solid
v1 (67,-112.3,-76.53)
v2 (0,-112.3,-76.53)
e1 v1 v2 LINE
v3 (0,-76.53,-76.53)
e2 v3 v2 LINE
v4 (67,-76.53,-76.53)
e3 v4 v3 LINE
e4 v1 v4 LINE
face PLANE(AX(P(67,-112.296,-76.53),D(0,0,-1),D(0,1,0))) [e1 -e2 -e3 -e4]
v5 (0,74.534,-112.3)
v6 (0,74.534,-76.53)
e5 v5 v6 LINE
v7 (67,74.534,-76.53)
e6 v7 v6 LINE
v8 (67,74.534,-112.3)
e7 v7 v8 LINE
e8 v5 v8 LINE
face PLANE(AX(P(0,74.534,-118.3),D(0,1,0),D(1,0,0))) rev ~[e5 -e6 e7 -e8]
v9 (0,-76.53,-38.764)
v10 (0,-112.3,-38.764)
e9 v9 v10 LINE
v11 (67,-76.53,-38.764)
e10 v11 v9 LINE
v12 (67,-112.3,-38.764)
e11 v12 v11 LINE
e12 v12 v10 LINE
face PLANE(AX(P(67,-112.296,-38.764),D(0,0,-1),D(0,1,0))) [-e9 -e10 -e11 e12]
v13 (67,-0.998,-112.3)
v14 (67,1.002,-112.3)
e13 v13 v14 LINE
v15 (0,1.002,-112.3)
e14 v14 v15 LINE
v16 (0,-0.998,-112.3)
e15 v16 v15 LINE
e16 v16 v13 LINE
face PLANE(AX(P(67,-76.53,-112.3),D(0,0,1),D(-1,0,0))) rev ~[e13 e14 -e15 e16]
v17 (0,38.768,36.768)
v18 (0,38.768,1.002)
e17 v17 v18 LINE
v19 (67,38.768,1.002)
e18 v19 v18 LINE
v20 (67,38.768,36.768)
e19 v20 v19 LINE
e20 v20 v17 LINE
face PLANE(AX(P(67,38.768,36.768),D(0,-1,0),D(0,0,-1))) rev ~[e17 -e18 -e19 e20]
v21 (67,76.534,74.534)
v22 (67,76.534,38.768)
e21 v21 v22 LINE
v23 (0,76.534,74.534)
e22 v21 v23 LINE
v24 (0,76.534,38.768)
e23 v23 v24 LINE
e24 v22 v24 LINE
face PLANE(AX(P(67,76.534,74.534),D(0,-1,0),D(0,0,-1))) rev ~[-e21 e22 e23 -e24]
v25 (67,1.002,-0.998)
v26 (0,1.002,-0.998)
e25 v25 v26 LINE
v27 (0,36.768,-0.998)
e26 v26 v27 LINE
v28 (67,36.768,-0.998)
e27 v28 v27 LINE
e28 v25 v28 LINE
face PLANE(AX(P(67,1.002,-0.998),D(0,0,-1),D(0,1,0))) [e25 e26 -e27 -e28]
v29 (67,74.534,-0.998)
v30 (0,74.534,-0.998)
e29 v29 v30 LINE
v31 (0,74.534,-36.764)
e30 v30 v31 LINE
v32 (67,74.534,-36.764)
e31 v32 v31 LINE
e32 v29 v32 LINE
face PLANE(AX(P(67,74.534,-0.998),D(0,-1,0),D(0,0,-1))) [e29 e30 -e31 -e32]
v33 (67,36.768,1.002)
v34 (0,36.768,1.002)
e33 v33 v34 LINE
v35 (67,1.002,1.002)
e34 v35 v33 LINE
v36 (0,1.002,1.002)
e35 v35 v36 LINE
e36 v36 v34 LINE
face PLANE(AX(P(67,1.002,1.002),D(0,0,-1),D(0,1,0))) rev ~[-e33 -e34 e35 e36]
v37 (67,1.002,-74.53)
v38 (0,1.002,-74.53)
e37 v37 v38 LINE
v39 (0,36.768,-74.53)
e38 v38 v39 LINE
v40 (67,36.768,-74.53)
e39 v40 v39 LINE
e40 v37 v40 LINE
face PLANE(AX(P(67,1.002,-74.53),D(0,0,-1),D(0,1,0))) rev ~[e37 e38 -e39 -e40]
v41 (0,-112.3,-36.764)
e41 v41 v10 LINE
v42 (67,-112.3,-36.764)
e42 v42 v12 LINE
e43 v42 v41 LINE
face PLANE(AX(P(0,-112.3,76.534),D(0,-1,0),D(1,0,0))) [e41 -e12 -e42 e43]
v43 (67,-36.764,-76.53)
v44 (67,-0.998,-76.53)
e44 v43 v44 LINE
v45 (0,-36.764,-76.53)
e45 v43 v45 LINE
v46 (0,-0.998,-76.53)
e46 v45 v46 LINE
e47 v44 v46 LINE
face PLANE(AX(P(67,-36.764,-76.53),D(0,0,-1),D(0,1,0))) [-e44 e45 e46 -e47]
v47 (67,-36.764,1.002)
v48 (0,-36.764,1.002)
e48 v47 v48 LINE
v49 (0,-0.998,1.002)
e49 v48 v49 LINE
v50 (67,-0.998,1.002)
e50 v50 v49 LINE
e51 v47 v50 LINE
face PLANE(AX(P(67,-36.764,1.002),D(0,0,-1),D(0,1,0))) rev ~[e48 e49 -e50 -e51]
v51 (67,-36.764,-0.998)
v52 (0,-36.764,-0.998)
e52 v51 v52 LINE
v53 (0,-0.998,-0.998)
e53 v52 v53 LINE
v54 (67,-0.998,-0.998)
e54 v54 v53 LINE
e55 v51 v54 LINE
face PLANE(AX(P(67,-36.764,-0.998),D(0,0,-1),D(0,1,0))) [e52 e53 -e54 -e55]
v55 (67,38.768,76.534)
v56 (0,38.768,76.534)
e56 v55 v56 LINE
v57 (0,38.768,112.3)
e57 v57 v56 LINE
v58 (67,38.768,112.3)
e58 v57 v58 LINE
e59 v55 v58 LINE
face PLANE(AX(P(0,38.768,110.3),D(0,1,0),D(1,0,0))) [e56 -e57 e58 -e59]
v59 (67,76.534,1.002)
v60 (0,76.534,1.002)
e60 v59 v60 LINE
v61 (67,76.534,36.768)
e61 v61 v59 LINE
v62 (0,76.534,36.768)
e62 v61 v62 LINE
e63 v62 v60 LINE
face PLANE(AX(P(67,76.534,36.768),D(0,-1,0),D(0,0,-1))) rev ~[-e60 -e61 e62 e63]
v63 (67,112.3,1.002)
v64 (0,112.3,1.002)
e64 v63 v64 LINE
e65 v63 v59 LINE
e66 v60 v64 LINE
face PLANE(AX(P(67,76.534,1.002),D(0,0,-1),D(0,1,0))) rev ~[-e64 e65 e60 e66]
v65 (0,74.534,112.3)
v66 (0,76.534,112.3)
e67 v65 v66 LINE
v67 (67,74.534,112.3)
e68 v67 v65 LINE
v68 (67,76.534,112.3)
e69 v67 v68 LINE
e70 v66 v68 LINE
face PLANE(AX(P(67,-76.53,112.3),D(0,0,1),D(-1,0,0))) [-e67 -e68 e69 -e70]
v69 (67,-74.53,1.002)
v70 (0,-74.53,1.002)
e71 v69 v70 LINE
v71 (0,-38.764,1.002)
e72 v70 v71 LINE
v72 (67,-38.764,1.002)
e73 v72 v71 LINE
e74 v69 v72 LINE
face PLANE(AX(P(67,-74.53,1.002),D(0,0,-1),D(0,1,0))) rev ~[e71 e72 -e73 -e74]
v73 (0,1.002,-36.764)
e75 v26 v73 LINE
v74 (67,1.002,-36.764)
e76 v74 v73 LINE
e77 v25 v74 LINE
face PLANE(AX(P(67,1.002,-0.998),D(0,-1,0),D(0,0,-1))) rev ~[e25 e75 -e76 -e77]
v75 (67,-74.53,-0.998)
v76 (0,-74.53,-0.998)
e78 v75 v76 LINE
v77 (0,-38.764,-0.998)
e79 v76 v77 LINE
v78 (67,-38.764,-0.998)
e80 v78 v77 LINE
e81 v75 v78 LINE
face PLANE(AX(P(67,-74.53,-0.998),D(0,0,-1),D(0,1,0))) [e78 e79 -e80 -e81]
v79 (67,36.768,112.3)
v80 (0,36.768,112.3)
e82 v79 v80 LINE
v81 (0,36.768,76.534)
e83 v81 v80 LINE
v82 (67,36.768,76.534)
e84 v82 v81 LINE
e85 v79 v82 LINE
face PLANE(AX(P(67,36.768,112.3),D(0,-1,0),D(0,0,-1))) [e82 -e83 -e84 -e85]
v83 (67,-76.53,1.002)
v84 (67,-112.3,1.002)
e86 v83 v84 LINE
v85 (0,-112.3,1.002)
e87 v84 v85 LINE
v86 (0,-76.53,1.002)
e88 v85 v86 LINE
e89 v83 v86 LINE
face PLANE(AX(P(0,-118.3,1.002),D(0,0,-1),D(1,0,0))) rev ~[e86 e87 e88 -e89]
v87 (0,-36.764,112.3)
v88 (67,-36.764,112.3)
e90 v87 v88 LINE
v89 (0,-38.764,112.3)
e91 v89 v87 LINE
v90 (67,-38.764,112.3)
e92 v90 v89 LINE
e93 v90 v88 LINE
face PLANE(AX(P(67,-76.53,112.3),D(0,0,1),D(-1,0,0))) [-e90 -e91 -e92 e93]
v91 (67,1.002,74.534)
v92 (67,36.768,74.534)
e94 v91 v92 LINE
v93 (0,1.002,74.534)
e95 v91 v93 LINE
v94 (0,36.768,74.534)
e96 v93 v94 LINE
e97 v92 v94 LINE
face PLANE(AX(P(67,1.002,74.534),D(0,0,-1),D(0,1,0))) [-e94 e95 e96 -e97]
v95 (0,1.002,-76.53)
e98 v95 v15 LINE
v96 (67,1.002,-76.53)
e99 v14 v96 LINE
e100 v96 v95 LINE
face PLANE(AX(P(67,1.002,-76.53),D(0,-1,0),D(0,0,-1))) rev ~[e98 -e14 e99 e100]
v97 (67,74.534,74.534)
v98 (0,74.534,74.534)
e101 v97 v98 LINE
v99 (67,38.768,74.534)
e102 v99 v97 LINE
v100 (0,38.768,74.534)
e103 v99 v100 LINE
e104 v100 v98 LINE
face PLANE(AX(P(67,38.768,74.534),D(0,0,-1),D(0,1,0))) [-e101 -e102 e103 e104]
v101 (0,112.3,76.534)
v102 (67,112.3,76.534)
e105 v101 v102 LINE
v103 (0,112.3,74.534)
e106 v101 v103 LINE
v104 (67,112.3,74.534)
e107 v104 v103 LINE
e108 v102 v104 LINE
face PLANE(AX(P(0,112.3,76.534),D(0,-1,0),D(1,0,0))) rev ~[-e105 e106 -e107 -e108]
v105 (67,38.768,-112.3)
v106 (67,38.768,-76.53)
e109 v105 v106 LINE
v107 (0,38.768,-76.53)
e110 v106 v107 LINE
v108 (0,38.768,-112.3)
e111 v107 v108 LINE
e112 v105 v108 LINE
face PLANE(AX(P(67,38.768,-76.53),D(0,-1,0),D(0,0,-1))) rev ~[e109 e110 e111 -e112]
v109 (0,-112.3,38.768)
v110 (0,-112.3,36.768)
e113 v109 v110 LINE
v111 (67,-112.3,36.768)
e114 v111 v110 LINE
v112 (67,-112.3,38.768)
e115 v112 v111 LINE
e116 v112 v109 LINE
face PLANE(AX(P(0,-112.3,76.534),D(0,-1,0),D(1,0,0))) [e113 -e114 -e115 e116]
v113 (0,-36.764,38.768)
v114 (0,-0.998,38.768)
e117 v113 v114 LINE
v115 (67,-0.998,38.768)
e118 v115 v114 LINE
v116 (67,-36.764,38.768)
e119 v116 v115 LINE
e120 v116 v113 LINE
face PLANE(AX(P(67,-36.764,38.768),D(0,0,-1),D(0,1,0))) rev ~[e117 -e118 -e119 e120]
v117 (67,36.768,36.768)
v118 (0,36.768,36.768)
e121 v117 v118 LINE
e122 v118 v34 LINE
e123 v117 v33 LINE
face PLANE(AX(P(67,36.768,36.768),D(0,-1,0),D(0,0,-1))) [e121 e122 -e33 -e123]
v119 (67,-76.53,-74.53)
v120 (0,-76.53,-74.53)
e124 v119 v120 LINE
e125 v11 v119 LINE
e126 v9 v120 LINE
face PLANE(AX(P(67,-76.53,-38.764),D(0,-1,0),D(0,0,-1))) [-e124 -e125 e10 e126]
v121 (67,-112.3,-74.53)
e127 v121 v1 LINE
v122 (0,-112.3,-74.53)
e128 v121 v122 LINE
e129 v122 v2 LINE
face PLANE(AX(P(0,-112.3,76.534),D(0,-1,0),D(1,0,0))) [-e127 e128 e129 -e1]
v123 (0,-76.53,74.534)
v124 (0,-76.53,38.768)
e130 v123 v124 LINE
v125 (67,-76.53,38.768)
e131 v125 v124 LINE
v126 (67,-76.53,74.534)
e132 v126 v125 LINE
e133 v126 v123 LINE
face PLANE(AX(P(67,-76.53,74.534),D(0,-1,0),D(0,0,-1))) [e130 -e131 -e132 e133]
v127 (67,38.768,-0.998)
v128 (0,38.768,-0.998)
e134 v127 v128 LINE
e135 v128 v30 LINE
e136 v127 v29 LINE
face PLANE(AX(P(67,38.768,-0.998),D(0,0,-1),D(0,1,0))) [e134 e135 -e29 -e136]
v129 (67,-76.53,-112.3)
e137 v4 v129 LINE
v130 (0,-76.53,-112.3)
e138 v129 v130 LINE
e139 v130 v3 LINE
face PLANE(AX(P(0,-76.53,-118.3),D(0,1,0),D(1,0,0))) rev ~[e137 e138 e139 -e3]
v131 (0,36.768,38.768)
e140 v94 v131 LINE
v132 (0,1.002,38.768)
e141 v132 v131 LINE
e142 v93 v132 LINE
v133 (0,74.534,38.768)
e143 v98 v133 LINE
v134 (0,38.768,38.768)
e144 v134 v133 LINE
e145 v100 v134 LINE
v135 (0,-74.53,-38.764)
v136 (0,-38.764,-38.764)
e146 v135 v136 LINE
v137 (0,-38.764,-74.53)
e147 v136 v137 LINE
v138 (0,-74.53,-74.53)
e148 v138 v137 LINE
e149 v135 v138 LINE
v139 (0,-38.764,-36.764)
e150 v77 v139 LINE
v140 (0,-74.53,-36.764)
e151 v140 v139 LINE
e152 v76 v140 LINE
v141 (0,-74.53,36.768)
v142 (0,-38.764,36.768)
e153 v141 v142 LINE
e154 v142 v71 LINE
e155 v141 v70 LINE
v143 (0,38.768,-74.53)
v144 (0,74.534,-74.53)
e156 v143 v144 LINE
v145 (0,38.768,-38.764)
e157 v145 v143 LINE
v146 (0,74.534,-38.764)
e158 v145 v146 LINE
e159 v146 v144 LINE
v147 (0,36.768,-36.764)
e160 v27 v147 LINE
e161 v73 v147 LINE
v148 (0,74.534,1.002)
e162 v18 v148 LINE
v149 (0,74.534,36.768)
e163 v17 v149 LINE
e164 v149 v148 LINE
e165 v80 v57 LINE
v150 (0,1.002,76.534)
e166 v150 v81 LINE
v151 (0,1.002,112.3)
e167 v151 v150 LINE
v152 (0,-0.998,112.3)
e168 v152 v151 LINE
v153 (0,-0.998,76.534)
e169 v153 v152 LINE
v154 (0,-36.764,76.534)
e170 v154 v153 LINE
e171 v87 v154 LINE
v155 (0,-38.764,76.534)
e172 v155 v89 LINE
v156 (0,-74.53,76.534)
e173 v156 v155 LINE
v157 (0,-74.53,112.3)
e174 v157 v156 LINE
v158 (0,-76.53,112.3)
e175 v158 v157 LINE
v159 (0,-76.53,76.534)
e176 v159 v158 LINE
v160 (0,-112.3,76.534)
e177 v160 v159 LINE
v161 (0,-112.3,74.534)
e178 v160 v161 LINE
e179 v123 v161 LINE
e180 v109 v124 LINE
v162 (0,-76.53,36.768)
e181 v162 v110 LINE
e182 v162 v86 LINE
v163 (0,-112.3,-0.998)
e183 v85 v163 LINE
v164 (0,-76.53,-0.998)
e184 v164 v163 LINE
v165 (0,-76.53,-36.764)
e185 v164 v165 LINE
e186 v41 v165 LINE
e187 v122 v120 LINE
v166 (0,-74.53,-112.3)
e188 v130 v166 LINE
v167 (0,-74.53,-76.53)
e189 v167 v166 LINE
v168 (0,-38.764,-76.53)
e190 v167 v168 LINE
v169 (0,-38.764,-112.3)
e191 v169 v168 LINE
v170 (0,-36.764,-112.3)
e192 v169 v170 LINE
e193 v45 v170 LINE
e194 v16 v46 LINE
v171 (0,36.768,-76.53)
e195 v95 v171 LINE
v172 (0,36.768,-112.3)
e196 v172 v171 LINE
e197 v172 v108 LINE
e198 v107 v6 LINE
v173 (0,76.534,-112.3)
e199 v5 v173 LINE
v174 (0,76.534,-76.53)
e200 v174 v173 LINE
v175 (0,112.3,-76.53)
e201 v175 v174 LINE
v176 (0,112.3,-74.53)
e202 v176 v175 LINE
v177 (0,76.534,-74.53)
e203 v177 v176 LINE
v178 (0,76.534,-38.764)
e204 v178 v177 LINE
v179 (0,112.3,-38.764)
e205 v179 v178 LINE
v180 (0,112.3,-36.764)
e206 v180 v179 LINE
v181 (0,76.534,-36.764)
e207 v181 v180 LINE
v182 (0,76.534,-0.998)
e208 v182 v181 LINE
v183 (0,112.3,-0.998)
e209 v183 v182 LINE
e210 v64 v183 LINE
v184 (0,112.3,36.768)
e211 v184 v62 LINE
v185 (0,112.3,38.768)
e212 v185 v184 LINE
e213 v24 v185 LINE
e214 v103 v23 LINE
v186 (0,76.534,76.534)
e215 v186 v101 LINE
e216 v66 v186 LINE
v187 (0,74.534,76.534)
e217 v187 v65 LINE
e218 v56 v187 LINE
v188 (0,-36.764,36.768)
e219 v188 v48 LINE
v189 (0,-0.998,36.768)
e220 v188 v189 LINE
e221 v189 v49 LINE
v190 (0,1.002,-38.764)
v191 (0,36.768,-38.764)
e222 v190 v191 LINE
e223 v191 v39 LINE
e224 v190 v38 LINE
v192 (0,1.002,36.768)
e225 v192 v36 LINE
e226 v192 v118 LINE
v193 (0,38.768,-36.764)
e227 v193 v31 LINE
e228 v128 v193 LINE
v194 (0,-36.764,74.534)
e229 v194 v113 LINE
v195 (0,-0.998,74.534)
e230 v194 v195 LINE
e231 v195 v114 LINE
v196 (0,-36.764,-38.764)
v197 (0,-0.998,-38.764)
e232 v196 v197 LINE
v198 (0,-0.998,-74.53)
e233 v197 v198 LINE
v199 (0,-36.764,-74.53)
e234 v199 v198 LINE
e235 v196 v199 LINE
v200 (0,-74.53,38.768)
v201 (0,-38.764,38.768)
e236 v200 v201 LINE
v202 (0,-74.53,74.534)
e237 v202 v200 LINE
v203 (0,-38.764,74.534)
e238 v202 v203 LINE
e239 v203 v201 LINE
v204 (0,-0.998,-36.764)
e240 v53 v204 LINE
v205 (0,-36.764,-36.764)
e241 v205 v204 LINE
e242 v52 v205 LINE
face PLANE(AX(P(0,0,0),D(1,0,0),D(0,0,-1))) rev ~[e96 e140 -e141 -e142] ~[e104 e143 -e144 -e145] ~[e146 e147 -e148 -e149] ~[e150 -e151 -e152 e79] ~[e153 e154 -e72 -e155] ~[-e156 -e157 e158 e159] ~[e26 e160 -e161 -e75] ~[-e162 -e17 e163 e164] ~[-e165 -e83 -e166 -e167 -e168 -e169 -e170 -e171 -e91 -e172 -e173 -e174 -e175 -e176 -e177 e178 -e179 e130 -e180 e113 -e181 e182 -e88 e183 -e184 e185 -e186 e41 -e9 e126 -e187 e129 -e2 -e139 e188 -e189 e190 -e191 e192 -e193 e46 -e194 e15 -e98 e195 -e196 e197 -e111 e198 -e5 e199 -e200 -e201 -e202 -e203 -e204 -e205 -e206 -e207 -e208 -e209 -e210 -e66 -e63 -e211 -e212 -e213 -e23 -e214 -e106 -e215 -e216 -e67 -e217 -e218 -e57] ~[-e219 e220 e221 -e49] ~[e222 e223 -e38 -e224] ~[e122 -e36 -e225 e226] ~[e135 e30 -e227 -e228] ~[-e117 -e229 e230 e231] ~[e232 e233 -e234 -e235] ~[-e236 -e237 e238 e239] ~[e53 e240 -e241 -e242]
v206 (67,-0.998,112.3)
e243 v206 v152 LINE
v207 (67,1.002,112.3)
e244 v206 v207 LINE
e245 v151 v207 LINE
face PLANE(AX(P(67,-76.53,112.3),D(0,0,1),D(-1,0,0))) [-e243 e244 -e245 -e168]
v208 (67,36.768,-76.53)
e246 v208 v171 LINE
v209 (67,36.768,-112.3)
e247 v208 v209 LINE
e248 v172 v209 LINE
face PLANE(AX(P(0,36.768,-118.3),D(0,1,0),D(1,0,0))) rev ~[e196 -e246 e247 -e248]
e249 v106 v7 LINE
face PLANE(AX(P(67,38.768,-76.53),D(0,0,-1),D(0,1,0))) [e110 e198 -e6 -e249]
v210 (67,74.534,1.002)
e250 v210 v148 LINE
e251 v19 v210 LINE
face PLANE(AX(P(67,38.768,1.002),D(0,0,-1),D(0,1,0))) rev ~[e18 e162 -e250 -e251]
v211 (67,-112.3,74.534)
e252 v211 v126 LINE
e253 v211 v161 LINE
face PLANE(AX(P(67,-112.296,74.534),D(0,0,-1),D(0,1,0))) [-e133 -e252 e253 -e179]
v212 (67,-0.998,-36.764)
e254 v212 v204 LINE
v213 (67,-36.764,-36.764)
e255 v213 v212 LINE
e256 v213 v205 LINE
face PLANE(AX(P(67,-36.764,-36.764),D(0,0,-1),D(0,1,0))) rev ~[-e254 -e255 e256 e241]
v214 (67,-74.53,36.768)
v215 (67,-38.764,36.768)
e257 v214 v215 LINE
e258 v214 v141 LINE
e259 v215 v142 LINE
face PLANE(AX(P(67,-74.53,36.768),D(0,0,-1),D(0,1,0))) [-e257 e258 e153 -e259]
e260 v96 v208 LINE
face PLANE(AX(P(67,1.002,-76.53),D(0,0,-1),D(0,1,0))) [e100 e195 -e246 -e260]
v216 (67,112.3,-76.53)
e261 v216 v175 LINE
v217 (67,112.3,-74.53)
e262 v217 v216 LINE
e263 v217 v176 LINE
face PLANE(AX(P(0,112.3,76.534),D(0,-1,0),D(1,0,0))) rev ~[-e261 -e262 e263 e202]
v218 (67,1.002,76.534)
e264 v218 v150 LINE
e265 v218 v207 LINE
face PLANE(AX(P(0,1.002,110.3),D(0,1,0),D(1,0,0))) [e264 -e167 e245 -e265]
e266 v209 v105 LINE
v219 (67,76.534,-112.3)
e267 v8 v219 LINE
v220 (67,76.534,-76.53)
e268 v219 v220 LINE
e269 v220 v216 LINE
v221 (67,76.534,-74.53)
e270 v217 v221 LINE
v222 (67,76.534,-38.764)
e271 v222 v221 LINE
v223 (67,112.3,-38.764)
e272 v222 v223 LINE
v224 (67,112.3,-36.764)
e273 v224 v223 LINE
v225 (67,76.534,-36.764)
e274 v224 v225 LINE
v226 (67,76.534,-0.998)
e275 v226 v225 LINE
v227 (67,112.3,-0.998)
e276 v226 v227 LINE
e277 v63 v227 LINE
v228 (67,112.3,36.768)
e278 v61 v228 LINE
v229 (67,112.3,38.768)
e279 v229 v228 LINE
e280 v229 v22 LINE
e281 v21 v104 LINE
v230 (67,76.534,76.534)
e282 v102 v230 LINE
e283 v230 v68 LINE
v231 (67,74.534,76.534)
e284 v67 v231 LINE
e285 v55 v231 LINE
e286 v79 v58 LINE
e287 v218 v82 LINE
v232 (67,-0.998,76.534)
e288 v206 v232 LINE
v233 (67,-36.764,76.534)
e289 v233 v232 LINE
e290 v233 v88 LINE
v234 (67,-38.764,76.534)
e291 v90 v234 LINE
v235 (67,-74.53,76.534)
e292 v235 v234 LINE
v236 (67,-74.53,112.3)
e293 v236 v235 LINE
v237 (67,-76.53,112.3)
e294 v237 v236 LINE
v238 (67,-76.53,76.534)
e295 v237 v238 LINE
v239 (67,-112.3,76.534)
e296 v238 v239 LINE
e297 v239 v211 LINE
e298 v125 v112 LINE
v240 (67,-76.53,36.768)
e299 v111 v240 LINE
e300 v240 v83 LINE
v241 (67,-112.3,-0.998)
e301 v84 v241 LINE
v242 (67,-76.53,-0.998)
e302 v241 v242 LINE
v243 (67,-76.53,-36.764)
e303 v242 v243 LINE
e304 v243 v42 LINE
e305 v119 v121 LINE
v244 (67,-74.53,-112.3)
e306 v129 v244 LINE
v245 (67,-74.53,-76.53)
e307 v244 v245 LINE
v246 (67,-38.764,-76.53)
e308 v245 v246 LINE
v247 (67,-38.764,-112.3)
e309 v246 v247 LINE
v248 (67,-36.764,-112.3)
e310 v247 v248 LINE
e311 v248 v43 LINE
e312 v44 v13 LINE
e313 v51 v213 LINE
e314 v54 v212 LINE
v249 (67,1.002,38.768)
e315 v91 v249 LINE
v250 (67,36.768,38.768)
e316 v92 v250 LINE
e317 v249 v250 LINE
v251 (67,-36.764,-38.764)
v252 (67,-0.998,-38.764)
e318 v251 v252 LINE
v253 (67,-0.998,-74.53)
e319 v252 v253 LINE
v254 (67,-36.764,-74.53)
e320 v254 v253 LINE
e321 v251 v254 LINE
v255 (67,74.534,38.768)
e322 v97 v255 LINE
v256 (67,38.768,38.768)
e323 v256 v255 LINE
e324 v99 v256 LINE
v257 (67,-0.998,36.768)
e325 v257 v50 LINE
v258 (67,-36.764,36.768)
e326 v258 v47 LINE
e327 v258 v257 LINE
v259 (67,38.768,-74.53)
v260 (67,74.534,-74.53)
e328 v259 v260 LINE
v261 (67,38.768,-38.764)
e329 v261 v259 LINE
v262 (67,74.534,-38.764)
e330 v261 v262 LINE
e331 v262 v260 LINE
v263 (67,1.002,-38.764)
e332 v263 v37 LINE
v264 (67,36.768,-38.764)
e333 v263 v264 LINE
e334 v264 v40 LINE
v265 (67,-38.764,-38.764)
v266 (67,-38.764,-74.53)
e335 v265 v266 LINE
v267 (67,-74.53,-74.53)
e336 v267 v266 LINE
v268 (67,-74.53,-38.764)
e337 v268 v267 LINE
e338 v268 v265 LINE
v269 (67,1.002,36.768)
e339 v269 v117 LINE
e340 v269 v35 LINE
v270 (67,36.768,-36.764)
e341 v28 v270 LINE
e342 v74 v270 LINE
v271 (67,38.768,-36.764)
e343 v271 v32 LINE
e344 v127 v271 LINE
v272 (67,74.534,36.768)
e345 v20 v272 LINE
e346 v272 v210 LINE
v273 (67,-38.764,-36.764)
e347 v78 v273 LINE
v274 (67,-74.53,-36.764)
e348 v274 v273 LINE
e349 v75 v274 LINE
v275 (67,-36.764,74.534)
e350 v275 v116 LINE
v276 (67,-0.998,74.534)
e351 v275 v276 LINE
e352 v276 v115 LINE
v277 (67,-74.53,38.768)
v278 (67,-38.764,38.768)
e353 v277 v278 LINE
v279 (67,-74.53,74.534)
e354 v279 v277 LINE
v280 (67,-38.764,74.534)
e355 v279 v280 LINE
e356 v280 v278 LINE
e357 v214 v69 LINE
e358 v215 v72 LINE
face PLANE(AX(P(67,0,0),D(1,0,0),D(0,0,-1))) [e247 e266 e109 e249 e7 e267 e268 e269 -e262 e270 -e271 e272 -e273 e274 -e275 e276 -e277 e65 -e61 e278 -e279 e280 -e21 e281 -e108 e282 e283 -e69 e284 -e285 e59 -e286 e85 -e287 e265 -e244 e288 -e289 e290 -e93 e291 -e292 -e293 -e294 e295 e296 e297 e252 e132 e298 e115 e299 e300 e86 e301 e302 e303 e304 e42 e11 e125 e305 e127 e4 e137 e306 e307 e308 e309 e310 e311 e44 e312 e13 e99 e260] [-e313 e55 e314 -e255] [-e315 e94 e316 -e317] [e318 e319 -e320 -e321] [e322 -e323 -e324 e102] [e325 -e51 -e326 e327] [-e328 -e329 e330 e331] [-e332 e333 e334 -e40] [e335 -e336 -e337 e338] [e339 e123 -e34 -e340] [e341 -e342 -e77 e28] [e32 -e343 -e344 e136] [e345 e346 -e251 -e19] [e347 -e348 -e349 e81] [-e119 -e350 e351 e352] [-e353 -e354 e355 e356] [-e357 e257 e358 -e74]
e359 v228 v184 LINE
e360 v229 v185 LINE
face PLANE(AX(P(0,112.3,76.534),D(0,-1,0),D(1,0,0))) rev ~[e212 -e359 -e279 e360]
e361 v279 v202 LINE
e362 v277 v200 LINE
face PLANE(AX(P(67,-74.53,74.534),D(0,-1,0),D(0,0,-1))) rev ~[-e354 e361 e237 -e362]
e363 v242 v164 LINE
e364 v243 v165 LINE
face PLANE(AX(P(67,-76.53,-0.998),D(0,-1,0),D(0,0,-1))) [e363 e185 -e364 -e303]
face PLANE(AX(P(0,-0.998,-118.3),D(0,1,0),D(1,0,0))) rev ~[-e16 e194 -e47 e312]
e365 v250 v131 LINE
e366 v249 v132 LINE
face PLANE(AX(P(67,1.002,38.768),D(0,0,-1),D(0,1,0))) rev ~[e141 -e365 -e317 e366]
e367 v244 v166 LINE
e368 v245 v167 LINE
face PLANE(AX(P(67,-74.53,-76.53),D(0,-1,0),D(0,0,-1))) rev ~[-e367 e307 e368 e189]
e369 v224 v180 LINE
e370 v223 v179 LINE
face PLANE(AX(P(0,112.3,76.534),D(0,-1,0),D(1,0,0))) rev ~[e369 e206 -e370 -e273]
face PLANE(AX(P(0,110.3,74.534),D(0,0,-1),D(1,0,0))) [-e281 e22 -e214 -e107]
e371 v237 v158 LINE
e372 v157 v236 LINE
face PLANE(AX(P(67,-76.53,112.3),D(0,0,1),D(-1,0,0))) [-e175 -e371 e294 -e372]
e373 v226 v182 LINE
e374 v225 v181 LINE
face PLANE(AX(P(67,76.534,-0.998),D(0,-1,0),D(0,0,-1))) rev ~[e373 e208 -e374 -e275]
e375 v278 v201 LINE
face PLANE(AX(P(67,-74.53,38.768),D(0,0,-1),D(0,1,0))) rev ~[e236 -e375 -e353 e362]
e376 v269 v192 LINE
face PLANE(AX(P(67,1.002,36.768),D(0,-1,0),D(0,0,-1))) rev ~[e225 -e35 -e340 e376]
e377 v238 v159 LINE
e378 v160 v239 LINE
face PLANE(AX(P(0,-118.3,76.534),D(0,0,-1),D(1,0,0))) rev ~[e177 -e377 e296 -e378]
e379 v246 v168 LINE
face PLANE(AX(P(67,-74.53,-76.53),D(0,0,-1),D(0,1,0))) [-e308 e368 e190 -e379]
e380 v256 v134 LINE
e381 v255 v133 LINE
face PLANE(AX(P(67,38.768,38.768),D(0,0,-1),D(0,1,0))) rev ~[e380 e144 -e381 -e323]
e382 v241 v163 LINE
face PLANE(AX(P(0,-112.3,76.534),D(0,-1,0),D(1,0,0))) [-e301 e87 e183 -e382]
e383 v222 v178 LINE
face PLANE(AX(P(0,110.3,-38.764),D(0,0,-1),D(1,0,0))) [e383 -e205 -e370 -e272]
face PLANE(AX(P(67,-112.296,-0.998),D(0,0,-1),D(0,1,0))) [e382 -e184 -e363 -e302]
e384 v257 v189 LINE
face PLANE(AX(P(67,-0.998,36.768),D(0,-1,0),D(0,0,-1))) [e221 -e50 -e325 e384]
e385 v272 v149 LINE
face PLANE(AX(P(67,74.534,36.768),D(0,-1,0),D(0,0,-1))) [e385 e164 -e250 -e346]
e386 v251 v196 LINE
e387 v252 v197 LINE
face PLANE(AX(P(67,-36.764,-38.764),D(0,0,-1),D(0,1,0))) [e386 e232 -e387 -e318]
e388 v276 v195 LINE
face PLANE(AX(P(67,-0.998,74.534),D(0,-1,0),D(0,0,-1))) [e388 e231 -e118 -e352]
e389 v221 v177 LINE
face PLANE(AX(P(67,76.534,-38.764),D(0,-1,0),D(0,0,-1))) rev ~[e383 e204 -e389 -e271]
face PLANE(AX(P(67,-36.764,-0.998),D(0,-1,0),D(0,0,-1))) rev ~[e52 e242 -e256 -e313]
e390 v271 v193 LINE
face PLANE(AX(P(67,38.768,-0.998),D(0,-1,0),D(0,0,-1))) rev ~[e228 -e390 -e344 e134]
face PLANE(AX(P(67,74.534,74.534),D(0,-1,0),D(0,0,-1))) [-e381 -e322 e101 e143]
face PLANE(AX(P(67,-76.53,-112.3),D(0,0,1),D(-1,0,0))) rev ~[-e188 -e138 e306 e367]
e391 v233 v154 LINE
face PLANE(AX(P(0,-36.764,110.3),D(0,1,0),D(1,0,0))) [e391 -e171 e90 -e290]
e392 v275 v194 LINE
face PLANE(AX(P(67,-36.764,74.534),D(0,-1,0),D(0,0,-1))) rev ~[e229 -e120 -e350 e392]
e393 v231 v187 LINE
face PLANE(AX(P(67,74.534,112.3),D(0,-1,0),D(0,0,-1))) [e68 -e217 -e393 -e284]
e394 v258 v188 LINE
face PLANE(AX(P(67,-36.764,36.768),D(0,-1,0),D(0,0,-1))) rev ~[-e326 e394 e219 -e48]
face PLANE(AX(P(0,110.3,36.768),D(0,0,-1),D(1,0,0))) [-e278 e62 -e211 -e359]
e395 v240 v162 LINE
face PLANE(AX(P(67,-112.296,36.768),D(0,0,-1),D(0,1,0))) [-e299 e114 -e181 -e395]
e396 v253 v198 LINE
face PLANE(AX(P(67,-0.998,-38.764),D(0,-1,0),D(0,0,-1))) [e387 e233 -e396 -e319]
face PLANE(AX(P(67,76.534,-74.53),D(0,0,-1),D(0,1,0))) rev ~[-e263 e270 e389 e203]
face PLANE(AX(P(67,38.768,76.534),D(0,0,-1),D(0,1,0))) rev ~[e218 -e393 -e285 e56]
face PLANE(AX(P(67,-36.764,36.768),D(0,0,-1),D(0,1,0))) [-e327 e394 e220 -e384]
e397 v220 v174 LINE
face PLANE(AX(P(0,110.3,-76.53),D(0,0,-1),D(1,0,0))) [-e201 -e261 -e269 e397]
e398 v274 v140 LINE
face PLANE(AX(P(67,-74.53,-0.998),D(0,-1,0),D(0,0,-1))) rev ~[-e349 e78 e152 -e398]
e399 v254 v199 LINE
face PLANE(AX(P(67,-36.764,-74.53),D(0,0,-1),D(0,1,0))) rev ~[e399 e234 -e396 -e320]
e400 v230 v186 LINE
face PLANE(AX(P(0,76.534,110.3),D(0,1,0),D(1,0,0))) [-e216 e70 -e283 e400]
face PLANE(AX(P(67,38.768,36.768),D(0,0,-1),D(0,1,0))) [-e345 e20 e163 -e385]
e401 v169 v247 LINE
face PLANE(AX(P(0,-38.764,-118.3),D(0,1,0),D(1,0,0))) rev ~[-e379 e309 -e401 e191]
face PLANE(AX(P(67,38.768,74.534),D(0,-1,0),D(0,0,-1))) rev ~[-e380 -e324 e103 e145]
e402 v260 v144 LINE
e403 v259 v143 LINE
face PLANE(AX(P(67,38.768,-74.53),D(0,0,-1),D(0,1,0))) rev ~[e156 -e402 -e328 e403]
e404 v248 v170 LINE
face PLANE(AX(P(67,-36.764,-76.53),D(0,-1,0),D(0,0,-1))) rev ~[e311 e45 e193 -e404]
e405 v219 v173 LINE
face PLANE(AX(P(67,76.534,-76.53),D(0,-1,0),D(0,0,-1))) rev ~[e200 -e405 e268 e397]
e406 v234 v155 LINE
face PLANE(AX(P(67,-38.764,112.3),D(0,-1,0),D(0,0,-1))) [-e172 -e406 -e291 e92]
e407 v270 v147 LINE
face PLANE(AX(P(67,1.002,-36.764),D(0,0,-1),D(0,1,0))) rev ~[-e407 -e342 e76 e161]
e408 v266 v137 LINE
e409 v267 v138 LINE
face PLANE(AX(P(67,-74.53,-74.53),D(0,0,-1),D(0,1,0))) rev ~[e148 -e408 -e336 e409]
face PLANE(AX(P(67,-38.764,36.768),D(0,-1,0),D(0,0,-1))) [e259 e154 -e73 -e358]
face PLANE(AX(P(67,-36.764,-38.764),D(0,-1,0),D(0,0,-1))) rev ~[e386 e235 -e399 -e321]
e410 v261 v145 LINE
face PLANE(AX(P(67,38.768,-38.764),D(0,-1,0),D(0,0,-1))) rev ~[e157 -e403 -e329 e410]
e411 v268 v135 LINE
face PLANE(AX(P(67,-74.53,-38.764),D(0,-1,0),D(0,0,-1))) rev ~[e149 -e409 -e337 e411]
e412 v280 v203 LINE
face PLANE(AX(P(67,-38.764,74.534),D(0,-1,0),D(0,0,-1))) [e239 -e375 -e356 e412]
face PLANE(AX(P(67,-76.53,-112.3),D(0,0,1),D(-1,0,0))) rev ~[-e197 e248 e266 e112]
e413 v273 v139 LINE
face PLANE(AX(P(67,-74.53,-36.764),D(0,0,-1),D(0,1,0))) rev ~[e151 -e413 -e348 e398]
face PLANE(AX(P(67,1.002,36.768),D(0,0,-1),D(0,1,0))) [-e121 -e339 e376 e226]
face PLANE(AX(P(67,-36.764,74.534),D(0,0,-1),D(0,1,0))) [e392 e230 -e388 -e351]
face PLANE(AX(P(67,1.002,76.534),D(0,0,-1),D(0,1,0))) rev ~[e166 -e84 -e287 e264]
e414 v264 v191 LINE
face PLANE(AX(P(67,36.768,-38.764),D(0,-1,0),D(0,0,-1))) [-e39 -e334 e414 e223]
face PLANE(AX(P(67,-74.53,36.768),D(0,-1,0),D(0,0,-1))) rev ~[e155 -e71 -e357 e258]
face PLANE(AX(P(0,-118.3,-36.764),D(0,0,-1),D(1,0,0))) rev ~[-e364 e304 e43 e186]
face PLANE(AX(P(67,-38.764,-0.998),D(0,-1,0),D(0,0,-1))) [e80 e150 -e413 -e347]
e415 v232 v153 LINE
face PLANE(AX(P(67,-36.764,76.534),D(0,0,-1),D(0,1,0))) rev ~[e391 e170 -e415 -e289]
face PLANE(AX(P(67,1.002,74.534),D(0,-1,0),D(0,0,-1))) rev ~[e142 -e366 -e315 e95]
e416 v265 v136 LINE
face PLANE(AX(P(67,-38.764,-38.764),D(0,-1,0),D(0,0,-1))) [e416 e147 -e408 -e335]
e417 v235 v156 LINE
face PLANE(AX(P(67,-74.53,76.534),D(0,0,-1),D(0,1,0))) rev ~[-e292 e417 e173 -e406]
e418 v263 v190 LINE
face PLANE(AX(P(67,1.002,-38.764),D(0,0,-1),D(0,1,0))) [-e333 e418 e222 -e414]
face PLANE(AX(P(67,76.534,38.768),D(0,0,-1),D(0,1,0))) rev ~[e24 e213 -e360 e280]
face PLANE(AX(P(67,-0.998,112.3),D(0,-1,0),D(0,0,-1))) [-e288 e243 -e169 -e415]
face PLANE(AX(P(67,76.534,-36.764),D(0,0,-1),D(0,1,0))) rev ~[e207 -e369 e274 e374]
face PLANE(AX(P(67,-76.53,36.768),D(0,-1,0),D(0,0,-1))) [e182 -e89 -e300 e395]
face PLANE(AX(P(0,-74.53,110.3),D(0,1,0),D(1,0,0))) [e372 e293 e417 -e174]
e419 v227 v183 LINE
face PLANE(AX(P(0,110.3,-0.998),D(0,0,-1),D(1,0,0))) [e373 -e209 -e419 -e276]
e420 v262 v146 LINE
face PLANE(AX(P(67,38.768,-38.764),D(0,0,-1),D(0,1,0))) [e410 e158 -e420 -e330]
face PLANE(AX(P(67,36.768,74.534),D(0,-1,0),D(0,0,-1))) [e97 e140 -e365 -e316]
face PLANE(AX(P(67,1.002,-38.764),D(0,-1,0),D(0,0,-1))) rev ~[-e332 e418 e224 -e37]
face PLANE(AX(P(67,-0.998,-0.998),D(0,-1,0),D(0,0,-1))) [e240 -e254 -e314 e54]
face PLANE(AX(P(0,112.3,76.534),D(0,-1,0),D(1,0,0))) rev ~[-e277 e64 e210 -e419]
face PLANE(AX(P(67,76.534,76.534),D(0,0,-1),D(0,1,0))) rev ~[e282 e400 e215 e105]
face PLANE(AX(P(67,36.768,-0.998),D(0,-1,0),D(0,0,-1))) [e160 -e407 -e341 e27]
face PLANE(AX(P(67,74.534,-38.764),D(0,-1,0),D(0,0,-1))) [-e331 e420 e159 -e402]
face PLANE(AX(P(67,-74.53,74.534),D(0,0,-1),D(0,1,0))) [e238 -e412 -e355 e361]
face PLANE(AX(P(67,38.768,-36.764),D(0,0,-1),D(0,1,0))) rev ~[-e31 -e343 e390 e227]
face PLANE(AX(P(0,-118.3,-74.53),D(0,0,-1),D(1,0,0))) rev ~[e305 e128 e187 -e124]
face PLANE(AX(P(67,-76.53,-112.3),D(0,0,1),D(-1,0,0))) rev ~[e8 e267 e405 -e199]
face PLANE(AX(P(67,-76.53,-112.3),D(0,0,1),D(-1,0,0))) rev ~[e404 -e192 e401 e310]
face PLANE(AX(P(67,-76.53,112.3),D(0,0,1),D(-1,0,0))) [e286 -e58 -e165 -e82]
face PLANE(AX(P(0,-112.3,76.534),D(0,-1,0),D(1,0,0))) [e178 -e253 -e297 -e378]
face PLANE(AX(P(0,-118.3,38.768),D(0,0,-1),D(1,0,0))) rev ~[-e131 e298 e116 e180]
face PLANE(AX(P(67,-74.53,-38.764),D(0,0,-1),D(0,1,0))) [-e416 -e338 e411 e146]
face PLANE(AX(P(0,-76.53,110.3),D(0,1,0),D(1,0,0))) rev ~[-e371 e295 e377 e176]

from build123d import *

# Parameters (mm, degrees)
SKETCH1_W               = 228.6
SKETCH1_H               = 228.6
BOSS_EXTRUDE1_DEPTH     = 67
SKETCH2_W               = 35.766
SKETCH2_H               = 35.766
CUT_EXTRUDE1_DEPTH      = 76.2
CUT_EXTRUDE3_DEPTH      = 4
CUT_EXTRUDE3_DEPTH_BACK = 4
SKETCH4_W               = 67
SKETCH4_H               = 35.766
CUT_EXTRUDE4_DEPTH      = 4
CUT_EXTRUDE4_DEPTH_BACK = 4
SKETCH5_W               = 67
SKETCH5_H               = 37.77
SKETCH5_H_2             = 35.766
CUT_EXTRUDE5_DEPTH      = 4
CUT_EXTRUDE5_DEPTH_BACK = 4
SKETCH6_W               = 67
SKETCH6_H               = 35.766
SKETCH6_H_2             = 37.77
CUT_EXTRUDE6_DEPTH      = 4
CUT_EXTRUDE6_DEPTH_BACK = 4
SKETCH9_W               = 67
SKETCH9_H               = 37.766
SKETCH9_H_2             = 35.766
SKETCH9_H_3             = 37.77
SKETCH10_W              = 67
SKETCH10_H              = 2
CUT_EXTRUDE7_DEPTH      = 233.316821509
SKETCH11_W              = 67
SKETCH11_H              = 2
CUT_EXTRUDE8_DEPTH      = 231.673489808


with BuildPart() as part:
    # Sketch1 → Boss-Extrude1 (new body)
    with BuildSketch(Plane(origin=(0, 0, 0), x_dir=(0, 0, -1), z_dir=(1, 0, 0))):
        Rectangle(SKETCH1_W, SKETCH1_H)
    extrude(amount=BOSS_EXTRUDE1_DEPTH)

    # Sketch2 → Cut-Extrude1 (cut)
    with BuildSketch(Plane(origin=(67, 0, 0), x_dir=(0, 0, -1), z_dir=(1, 0, 0))):
        with Locations((-94.417, 94.417)):
            Rectangle(SKETCH2_W, SKETCH2_H)
        with Locations((-56.651, 94.417)):
            Rectangle(SKETCH2_W, SKETCH2_H)
        with Locations((18.881, 94.417)):
            Rectangle(SKETCH2_W, SKETCH2_H)
        with Locations((-18.885, 94.417)):
            Rectangle(SKETCH2_W, SKETCH2_H)
        with Locations((56.647, 94.417)):
            Rectangle(SKETCH2_W, SKETCH2_H)
        with Locations((94.413, 94.417)):
            Rectangle(SKETCH2_W, SKETCH2_H)
        with Locations((56.647, 56.651)):
            Rectangle(SKETCH2_W, SKETCH2_H)
        with Locations((94.413, 56.651)):
            Rectangle(SKETCH2_W, SKETCH2_H)
        with Locations((18.881, 56.651)):
            Rectangle(SKETCH2_W, SKETCH2_H)
        with Locations((-18.885, 56.651)):
            Rectangle(SKETCH2_W, SKETCH2_H)
        with Locations((-56.651, 56.651)):
            Rectangle(SKETCH2_W, SKETCH2_H)
        with Locations((-94.417, 56.651)):
            Rectangle(SKETCH2_W, SKETCH2_H)
        with Locations((-94.417, 18.885)):
            Rectangle(SKETCH2_W, SKETCH2_H)
        with Locations((-56.651, 18.885)):
            Rectangle(SKETCH2_W, SKETCH2_H)
        with Locations((-18.885, 18.885)):
            Rectangle(SKETCH2_W, SKETCH2_H)
        with Locations((18.881, 18.885)):
            Rectangle(SKETCH2_W, SKETCH2_H)
        with Locations((56.647, 18.885)):
            Rectangle(SKETCH2_W, SKETCH2_H)
        with Locations((94.413, 18.885)):
            Rectangle(SKETCH2_W, SKETCH2_H)
        with Locations((94.413, -18.881)):
            Rectangle(SKETCH2_W, SKETCH2_H)
        with Locations((56.647, -18.881)):
            Rectangle(SKETCH2_W, SKETCH2_H)
        with Locations((18.881, -18.881)):
            Rectangle(SKETCH2_W, SKETCH2_H)
        with Locations((-18.885, -18.881)):
            Rectangle(SKETCH2_W, SKETCH2_H)
        with Locations((-56.651, -18.881)):
            Rectangle(SKETCH2_W, SKETCH2_H)
        with Locations((-94.417, -18.881)):
            Rectangle(SKETCH2_W, SKETCH2_H)
        with Locations((56.647, -56.647)):
            Rectangle(SKETCH2_W, SKETCH2_H)
        with Locations((94.413, -56.647)):
            Rectangle(SKETCH2_W, SKETCH2_H)
        with Locations((94.413, -94.413)):
            Rectangle(SKETCH2_W, SKETCH2_H)
        with Locations((56.647, -94.413)):
            Rectangle(SKETCH2_W, SKETCH2_H)
        with Locations((18.881, -94.413)):
            Rectangle(SKETCH2_W, SKETCH2_H)
        with Locations((18.881, -56.647)):
            Rectangle(SKETCH2_W, SKETCH2_H)
        with Locations((-18.885, -56.647)):
            Rectangle(SKETCH2_W, SKETCH2_H)
        with Locations((-18.885, -94.413)):
            Rectangle(SKETCH2_W, SKETCH2_H)
        with Locations((-56.651, -94.413)):
            Rectangle(SKETCH2_W, SKETCH2_H)
        with Locations((-56.651, -56.647)):
            Rectangle(SKETCH2_W, SKETCH2_H)
        with Locations((-94.417, -94.413)):
            Rectangle(SKETCH2_W, SKETCH2_H)
        with Locations((-94.417, -56.647)):
            Rectangle(SKETCH2_W, SKETCH2_H)
    extrude(amount=-CUT_EXTRUDE1_DEPTH, mode=Mode.SUBTRACT)

    # Sketch4 → Cut-Extrude3 (cut, two sides: drawn at the far end of the back side and taken through both)
    with BuildSketch(Plane(origin=(0, -114.3, 0), x_dir=(1, 0, 0), z_dir=(0, 1, 0)).offset(-CUT_EXTRUDE3_DEPTH_BACK)):
        with Locations((33.5, -94.417)):
            Rectangle(SKETCH4_W, SKETCH4_H)
        with Locations((33.5, -56.651)):
            Rectangle(SKETCH4_W, SKETCH4_H)
        with Locations((33.5, -18.885)):
            Rectangle(SKETCH4_W, SKETCH4_H)
        with Locations((33.5, 18.881)):
            Rectangle(SKETCH4_W, SKETCH4_H)
        with Locations((33.5, 56.647)):
            Rectangle(SKETCH4_W, SKETCH4_H)
        with Locations((33.5, 94.413)):
            Rectangle(SKETCH4_W, SKETCH4_H)
    extrude(amount=CUT_EXTRUDE3_DEPTH + CUT_EXTRUDE3_DEPTH_BACK, mode=Mode.SUBTRACT)

    # Sketch5 → Cut-Extrude4 (cut, two sides: drawn at the far end of the back side and taken through both)
    with BuildSketch(Plane.XY.offset(114.3).offset(-CUT_EXTRUDE4_DEPTH_BACK)):
        with Locations((33.5, -95.415)):
            Rectangle(SKETCH5_W, SKETCH5_H)
        with Locations((33.5, -56.647)):
            Rectangle(SKETCH5_W, SKETCH5_H_2)
        with Locations((33.5, -18.881)):
            Rectangle(SKETCH5_W, SKETCH5_H_2)
        with Locations((33.5, 18.885)):
            Rectangle(SKETCH5_W, SKETCH5_H_2)
        with Locations((33.5, 56.651)):
            Rectangle(SKETCH5_W, SKETCH5_H_2)
        with Locations((33.5, 94.417)):
            Rectangle(SKETCH5_W, SKETCH5_H_2)
    extrude(amount=CUT_EXTRUDE4_DEPTH + CUT_EXTRUDE4_DEPTH_BACK, mode=Mode.SUBTRACT)

    # Sketch6 → Cut-Extrude5 (cut, two sides: drawn at the far end of the back side and taken through both)
    with BuildSketch(Plane.XY.offset(-114.3).offset(-CUT_EXTRUDE5_DEPTH_BACK)):
        with Locations((33.5, 94.417)):
            Rectangle(SKETCH6_W, SKETCH6_H)
        with Locations((33.5, 56.651)):
            Rectangle(SKETCH6_W, SKETCH6_H)
        with Locations((33.5, 18.885)):
            Rectangle(SKETCH6_W, SKETCH6_H)
        with Locations((33.5, -18.881)):
            Rectangle(SKETCH6_W, SKETCH6_H)
        with Locations((33.5, -56.647)):
            Rectangle(SKETCH6_W, SKETCH6_H)
        with Locations((33.5, -95.415)):
            Rectangle(SKETCH6_W, SKETCH6_H_2)
    extrude(amount=CUT_EXTRUDE5_DEPTH + CUT_EXTRUDE5_DEPTH_BACK, mode=Mode.SUBTRACT)

    # Sketch9 → Cut-Extrude6 (cut, two sides: drawn at the far end of the back side and taken through both)
    with BuildSketch(Plane(origin=(0, 114.3, 0), x_dir=(1, 0, 0), z_dir=(0, 1, 0)).offset(-CUT_EXTRUDE6_DEPTH_BACK)):
        with Locations((33.5, -95.417)):
            Rectangle(SKETCH9_W, SKETCH9_H)
        with Locations((33.5, -56.651)):
            Rectangle(SKETCH9_W, SKETCH9_H_2)
        with Locations((33.5, -18.885)):
            Rectangle(SKETCH9_W, SKETCH9_H_2)
        with Locations((33.5, 18.881)):
            Rectangle(SKETCH9_W, SKETCH9_H_2)
        with Locations((33.5, 56.647)):
            Rectangle(SKETCH9_W, SKETCH9_H_2)
        with Locations((33.5, 95.415)):
            Rectangle(SKETCH9_W, SKETCH9_H_3)
    extrude(amount=CUT_EXTRUDE6_DEPTH + CUT_EXTRUDE6_DEPTH_BACK, mode=Mode.SUBTRACT)

    # Sketch10 → Cut-Extrude7 (cut, through all)
    with BuildSketch(Plane.XY.offset(76.534)):
        with Locations((33.5, -113.3)):
            Rectangle(SKETCH10_W, SKETCH10_H)
        with Locations((33.5, 113.3)):
            Rectangle(SKETCH10_W, SKETCH10_H)
    extrude(amount=-CUT_EXTRUDE7_DEPTH, mode=Mode.SUBTRACT)

    # Sketch11 → Cut-Extrude8 (cut, through all)
    with BuildSketch(Plane(origin=(0, -76.53, 0), x_dir=(-1, 0, 0), z_dir=(0, -1, 0))):
        with Locations((-33.5, 113.3)):
            Rectangle(SKETCH11_W, SKETCH11_H)
        with Locations((-33.5, -113.3)):
            Rectangle(SKETCH11_W, SKETCH11_H)
    extrude(amount=-CUT_EXTRUDE8_DEPTH, mode=Mode.SUBTRACT)


solid = part.part
